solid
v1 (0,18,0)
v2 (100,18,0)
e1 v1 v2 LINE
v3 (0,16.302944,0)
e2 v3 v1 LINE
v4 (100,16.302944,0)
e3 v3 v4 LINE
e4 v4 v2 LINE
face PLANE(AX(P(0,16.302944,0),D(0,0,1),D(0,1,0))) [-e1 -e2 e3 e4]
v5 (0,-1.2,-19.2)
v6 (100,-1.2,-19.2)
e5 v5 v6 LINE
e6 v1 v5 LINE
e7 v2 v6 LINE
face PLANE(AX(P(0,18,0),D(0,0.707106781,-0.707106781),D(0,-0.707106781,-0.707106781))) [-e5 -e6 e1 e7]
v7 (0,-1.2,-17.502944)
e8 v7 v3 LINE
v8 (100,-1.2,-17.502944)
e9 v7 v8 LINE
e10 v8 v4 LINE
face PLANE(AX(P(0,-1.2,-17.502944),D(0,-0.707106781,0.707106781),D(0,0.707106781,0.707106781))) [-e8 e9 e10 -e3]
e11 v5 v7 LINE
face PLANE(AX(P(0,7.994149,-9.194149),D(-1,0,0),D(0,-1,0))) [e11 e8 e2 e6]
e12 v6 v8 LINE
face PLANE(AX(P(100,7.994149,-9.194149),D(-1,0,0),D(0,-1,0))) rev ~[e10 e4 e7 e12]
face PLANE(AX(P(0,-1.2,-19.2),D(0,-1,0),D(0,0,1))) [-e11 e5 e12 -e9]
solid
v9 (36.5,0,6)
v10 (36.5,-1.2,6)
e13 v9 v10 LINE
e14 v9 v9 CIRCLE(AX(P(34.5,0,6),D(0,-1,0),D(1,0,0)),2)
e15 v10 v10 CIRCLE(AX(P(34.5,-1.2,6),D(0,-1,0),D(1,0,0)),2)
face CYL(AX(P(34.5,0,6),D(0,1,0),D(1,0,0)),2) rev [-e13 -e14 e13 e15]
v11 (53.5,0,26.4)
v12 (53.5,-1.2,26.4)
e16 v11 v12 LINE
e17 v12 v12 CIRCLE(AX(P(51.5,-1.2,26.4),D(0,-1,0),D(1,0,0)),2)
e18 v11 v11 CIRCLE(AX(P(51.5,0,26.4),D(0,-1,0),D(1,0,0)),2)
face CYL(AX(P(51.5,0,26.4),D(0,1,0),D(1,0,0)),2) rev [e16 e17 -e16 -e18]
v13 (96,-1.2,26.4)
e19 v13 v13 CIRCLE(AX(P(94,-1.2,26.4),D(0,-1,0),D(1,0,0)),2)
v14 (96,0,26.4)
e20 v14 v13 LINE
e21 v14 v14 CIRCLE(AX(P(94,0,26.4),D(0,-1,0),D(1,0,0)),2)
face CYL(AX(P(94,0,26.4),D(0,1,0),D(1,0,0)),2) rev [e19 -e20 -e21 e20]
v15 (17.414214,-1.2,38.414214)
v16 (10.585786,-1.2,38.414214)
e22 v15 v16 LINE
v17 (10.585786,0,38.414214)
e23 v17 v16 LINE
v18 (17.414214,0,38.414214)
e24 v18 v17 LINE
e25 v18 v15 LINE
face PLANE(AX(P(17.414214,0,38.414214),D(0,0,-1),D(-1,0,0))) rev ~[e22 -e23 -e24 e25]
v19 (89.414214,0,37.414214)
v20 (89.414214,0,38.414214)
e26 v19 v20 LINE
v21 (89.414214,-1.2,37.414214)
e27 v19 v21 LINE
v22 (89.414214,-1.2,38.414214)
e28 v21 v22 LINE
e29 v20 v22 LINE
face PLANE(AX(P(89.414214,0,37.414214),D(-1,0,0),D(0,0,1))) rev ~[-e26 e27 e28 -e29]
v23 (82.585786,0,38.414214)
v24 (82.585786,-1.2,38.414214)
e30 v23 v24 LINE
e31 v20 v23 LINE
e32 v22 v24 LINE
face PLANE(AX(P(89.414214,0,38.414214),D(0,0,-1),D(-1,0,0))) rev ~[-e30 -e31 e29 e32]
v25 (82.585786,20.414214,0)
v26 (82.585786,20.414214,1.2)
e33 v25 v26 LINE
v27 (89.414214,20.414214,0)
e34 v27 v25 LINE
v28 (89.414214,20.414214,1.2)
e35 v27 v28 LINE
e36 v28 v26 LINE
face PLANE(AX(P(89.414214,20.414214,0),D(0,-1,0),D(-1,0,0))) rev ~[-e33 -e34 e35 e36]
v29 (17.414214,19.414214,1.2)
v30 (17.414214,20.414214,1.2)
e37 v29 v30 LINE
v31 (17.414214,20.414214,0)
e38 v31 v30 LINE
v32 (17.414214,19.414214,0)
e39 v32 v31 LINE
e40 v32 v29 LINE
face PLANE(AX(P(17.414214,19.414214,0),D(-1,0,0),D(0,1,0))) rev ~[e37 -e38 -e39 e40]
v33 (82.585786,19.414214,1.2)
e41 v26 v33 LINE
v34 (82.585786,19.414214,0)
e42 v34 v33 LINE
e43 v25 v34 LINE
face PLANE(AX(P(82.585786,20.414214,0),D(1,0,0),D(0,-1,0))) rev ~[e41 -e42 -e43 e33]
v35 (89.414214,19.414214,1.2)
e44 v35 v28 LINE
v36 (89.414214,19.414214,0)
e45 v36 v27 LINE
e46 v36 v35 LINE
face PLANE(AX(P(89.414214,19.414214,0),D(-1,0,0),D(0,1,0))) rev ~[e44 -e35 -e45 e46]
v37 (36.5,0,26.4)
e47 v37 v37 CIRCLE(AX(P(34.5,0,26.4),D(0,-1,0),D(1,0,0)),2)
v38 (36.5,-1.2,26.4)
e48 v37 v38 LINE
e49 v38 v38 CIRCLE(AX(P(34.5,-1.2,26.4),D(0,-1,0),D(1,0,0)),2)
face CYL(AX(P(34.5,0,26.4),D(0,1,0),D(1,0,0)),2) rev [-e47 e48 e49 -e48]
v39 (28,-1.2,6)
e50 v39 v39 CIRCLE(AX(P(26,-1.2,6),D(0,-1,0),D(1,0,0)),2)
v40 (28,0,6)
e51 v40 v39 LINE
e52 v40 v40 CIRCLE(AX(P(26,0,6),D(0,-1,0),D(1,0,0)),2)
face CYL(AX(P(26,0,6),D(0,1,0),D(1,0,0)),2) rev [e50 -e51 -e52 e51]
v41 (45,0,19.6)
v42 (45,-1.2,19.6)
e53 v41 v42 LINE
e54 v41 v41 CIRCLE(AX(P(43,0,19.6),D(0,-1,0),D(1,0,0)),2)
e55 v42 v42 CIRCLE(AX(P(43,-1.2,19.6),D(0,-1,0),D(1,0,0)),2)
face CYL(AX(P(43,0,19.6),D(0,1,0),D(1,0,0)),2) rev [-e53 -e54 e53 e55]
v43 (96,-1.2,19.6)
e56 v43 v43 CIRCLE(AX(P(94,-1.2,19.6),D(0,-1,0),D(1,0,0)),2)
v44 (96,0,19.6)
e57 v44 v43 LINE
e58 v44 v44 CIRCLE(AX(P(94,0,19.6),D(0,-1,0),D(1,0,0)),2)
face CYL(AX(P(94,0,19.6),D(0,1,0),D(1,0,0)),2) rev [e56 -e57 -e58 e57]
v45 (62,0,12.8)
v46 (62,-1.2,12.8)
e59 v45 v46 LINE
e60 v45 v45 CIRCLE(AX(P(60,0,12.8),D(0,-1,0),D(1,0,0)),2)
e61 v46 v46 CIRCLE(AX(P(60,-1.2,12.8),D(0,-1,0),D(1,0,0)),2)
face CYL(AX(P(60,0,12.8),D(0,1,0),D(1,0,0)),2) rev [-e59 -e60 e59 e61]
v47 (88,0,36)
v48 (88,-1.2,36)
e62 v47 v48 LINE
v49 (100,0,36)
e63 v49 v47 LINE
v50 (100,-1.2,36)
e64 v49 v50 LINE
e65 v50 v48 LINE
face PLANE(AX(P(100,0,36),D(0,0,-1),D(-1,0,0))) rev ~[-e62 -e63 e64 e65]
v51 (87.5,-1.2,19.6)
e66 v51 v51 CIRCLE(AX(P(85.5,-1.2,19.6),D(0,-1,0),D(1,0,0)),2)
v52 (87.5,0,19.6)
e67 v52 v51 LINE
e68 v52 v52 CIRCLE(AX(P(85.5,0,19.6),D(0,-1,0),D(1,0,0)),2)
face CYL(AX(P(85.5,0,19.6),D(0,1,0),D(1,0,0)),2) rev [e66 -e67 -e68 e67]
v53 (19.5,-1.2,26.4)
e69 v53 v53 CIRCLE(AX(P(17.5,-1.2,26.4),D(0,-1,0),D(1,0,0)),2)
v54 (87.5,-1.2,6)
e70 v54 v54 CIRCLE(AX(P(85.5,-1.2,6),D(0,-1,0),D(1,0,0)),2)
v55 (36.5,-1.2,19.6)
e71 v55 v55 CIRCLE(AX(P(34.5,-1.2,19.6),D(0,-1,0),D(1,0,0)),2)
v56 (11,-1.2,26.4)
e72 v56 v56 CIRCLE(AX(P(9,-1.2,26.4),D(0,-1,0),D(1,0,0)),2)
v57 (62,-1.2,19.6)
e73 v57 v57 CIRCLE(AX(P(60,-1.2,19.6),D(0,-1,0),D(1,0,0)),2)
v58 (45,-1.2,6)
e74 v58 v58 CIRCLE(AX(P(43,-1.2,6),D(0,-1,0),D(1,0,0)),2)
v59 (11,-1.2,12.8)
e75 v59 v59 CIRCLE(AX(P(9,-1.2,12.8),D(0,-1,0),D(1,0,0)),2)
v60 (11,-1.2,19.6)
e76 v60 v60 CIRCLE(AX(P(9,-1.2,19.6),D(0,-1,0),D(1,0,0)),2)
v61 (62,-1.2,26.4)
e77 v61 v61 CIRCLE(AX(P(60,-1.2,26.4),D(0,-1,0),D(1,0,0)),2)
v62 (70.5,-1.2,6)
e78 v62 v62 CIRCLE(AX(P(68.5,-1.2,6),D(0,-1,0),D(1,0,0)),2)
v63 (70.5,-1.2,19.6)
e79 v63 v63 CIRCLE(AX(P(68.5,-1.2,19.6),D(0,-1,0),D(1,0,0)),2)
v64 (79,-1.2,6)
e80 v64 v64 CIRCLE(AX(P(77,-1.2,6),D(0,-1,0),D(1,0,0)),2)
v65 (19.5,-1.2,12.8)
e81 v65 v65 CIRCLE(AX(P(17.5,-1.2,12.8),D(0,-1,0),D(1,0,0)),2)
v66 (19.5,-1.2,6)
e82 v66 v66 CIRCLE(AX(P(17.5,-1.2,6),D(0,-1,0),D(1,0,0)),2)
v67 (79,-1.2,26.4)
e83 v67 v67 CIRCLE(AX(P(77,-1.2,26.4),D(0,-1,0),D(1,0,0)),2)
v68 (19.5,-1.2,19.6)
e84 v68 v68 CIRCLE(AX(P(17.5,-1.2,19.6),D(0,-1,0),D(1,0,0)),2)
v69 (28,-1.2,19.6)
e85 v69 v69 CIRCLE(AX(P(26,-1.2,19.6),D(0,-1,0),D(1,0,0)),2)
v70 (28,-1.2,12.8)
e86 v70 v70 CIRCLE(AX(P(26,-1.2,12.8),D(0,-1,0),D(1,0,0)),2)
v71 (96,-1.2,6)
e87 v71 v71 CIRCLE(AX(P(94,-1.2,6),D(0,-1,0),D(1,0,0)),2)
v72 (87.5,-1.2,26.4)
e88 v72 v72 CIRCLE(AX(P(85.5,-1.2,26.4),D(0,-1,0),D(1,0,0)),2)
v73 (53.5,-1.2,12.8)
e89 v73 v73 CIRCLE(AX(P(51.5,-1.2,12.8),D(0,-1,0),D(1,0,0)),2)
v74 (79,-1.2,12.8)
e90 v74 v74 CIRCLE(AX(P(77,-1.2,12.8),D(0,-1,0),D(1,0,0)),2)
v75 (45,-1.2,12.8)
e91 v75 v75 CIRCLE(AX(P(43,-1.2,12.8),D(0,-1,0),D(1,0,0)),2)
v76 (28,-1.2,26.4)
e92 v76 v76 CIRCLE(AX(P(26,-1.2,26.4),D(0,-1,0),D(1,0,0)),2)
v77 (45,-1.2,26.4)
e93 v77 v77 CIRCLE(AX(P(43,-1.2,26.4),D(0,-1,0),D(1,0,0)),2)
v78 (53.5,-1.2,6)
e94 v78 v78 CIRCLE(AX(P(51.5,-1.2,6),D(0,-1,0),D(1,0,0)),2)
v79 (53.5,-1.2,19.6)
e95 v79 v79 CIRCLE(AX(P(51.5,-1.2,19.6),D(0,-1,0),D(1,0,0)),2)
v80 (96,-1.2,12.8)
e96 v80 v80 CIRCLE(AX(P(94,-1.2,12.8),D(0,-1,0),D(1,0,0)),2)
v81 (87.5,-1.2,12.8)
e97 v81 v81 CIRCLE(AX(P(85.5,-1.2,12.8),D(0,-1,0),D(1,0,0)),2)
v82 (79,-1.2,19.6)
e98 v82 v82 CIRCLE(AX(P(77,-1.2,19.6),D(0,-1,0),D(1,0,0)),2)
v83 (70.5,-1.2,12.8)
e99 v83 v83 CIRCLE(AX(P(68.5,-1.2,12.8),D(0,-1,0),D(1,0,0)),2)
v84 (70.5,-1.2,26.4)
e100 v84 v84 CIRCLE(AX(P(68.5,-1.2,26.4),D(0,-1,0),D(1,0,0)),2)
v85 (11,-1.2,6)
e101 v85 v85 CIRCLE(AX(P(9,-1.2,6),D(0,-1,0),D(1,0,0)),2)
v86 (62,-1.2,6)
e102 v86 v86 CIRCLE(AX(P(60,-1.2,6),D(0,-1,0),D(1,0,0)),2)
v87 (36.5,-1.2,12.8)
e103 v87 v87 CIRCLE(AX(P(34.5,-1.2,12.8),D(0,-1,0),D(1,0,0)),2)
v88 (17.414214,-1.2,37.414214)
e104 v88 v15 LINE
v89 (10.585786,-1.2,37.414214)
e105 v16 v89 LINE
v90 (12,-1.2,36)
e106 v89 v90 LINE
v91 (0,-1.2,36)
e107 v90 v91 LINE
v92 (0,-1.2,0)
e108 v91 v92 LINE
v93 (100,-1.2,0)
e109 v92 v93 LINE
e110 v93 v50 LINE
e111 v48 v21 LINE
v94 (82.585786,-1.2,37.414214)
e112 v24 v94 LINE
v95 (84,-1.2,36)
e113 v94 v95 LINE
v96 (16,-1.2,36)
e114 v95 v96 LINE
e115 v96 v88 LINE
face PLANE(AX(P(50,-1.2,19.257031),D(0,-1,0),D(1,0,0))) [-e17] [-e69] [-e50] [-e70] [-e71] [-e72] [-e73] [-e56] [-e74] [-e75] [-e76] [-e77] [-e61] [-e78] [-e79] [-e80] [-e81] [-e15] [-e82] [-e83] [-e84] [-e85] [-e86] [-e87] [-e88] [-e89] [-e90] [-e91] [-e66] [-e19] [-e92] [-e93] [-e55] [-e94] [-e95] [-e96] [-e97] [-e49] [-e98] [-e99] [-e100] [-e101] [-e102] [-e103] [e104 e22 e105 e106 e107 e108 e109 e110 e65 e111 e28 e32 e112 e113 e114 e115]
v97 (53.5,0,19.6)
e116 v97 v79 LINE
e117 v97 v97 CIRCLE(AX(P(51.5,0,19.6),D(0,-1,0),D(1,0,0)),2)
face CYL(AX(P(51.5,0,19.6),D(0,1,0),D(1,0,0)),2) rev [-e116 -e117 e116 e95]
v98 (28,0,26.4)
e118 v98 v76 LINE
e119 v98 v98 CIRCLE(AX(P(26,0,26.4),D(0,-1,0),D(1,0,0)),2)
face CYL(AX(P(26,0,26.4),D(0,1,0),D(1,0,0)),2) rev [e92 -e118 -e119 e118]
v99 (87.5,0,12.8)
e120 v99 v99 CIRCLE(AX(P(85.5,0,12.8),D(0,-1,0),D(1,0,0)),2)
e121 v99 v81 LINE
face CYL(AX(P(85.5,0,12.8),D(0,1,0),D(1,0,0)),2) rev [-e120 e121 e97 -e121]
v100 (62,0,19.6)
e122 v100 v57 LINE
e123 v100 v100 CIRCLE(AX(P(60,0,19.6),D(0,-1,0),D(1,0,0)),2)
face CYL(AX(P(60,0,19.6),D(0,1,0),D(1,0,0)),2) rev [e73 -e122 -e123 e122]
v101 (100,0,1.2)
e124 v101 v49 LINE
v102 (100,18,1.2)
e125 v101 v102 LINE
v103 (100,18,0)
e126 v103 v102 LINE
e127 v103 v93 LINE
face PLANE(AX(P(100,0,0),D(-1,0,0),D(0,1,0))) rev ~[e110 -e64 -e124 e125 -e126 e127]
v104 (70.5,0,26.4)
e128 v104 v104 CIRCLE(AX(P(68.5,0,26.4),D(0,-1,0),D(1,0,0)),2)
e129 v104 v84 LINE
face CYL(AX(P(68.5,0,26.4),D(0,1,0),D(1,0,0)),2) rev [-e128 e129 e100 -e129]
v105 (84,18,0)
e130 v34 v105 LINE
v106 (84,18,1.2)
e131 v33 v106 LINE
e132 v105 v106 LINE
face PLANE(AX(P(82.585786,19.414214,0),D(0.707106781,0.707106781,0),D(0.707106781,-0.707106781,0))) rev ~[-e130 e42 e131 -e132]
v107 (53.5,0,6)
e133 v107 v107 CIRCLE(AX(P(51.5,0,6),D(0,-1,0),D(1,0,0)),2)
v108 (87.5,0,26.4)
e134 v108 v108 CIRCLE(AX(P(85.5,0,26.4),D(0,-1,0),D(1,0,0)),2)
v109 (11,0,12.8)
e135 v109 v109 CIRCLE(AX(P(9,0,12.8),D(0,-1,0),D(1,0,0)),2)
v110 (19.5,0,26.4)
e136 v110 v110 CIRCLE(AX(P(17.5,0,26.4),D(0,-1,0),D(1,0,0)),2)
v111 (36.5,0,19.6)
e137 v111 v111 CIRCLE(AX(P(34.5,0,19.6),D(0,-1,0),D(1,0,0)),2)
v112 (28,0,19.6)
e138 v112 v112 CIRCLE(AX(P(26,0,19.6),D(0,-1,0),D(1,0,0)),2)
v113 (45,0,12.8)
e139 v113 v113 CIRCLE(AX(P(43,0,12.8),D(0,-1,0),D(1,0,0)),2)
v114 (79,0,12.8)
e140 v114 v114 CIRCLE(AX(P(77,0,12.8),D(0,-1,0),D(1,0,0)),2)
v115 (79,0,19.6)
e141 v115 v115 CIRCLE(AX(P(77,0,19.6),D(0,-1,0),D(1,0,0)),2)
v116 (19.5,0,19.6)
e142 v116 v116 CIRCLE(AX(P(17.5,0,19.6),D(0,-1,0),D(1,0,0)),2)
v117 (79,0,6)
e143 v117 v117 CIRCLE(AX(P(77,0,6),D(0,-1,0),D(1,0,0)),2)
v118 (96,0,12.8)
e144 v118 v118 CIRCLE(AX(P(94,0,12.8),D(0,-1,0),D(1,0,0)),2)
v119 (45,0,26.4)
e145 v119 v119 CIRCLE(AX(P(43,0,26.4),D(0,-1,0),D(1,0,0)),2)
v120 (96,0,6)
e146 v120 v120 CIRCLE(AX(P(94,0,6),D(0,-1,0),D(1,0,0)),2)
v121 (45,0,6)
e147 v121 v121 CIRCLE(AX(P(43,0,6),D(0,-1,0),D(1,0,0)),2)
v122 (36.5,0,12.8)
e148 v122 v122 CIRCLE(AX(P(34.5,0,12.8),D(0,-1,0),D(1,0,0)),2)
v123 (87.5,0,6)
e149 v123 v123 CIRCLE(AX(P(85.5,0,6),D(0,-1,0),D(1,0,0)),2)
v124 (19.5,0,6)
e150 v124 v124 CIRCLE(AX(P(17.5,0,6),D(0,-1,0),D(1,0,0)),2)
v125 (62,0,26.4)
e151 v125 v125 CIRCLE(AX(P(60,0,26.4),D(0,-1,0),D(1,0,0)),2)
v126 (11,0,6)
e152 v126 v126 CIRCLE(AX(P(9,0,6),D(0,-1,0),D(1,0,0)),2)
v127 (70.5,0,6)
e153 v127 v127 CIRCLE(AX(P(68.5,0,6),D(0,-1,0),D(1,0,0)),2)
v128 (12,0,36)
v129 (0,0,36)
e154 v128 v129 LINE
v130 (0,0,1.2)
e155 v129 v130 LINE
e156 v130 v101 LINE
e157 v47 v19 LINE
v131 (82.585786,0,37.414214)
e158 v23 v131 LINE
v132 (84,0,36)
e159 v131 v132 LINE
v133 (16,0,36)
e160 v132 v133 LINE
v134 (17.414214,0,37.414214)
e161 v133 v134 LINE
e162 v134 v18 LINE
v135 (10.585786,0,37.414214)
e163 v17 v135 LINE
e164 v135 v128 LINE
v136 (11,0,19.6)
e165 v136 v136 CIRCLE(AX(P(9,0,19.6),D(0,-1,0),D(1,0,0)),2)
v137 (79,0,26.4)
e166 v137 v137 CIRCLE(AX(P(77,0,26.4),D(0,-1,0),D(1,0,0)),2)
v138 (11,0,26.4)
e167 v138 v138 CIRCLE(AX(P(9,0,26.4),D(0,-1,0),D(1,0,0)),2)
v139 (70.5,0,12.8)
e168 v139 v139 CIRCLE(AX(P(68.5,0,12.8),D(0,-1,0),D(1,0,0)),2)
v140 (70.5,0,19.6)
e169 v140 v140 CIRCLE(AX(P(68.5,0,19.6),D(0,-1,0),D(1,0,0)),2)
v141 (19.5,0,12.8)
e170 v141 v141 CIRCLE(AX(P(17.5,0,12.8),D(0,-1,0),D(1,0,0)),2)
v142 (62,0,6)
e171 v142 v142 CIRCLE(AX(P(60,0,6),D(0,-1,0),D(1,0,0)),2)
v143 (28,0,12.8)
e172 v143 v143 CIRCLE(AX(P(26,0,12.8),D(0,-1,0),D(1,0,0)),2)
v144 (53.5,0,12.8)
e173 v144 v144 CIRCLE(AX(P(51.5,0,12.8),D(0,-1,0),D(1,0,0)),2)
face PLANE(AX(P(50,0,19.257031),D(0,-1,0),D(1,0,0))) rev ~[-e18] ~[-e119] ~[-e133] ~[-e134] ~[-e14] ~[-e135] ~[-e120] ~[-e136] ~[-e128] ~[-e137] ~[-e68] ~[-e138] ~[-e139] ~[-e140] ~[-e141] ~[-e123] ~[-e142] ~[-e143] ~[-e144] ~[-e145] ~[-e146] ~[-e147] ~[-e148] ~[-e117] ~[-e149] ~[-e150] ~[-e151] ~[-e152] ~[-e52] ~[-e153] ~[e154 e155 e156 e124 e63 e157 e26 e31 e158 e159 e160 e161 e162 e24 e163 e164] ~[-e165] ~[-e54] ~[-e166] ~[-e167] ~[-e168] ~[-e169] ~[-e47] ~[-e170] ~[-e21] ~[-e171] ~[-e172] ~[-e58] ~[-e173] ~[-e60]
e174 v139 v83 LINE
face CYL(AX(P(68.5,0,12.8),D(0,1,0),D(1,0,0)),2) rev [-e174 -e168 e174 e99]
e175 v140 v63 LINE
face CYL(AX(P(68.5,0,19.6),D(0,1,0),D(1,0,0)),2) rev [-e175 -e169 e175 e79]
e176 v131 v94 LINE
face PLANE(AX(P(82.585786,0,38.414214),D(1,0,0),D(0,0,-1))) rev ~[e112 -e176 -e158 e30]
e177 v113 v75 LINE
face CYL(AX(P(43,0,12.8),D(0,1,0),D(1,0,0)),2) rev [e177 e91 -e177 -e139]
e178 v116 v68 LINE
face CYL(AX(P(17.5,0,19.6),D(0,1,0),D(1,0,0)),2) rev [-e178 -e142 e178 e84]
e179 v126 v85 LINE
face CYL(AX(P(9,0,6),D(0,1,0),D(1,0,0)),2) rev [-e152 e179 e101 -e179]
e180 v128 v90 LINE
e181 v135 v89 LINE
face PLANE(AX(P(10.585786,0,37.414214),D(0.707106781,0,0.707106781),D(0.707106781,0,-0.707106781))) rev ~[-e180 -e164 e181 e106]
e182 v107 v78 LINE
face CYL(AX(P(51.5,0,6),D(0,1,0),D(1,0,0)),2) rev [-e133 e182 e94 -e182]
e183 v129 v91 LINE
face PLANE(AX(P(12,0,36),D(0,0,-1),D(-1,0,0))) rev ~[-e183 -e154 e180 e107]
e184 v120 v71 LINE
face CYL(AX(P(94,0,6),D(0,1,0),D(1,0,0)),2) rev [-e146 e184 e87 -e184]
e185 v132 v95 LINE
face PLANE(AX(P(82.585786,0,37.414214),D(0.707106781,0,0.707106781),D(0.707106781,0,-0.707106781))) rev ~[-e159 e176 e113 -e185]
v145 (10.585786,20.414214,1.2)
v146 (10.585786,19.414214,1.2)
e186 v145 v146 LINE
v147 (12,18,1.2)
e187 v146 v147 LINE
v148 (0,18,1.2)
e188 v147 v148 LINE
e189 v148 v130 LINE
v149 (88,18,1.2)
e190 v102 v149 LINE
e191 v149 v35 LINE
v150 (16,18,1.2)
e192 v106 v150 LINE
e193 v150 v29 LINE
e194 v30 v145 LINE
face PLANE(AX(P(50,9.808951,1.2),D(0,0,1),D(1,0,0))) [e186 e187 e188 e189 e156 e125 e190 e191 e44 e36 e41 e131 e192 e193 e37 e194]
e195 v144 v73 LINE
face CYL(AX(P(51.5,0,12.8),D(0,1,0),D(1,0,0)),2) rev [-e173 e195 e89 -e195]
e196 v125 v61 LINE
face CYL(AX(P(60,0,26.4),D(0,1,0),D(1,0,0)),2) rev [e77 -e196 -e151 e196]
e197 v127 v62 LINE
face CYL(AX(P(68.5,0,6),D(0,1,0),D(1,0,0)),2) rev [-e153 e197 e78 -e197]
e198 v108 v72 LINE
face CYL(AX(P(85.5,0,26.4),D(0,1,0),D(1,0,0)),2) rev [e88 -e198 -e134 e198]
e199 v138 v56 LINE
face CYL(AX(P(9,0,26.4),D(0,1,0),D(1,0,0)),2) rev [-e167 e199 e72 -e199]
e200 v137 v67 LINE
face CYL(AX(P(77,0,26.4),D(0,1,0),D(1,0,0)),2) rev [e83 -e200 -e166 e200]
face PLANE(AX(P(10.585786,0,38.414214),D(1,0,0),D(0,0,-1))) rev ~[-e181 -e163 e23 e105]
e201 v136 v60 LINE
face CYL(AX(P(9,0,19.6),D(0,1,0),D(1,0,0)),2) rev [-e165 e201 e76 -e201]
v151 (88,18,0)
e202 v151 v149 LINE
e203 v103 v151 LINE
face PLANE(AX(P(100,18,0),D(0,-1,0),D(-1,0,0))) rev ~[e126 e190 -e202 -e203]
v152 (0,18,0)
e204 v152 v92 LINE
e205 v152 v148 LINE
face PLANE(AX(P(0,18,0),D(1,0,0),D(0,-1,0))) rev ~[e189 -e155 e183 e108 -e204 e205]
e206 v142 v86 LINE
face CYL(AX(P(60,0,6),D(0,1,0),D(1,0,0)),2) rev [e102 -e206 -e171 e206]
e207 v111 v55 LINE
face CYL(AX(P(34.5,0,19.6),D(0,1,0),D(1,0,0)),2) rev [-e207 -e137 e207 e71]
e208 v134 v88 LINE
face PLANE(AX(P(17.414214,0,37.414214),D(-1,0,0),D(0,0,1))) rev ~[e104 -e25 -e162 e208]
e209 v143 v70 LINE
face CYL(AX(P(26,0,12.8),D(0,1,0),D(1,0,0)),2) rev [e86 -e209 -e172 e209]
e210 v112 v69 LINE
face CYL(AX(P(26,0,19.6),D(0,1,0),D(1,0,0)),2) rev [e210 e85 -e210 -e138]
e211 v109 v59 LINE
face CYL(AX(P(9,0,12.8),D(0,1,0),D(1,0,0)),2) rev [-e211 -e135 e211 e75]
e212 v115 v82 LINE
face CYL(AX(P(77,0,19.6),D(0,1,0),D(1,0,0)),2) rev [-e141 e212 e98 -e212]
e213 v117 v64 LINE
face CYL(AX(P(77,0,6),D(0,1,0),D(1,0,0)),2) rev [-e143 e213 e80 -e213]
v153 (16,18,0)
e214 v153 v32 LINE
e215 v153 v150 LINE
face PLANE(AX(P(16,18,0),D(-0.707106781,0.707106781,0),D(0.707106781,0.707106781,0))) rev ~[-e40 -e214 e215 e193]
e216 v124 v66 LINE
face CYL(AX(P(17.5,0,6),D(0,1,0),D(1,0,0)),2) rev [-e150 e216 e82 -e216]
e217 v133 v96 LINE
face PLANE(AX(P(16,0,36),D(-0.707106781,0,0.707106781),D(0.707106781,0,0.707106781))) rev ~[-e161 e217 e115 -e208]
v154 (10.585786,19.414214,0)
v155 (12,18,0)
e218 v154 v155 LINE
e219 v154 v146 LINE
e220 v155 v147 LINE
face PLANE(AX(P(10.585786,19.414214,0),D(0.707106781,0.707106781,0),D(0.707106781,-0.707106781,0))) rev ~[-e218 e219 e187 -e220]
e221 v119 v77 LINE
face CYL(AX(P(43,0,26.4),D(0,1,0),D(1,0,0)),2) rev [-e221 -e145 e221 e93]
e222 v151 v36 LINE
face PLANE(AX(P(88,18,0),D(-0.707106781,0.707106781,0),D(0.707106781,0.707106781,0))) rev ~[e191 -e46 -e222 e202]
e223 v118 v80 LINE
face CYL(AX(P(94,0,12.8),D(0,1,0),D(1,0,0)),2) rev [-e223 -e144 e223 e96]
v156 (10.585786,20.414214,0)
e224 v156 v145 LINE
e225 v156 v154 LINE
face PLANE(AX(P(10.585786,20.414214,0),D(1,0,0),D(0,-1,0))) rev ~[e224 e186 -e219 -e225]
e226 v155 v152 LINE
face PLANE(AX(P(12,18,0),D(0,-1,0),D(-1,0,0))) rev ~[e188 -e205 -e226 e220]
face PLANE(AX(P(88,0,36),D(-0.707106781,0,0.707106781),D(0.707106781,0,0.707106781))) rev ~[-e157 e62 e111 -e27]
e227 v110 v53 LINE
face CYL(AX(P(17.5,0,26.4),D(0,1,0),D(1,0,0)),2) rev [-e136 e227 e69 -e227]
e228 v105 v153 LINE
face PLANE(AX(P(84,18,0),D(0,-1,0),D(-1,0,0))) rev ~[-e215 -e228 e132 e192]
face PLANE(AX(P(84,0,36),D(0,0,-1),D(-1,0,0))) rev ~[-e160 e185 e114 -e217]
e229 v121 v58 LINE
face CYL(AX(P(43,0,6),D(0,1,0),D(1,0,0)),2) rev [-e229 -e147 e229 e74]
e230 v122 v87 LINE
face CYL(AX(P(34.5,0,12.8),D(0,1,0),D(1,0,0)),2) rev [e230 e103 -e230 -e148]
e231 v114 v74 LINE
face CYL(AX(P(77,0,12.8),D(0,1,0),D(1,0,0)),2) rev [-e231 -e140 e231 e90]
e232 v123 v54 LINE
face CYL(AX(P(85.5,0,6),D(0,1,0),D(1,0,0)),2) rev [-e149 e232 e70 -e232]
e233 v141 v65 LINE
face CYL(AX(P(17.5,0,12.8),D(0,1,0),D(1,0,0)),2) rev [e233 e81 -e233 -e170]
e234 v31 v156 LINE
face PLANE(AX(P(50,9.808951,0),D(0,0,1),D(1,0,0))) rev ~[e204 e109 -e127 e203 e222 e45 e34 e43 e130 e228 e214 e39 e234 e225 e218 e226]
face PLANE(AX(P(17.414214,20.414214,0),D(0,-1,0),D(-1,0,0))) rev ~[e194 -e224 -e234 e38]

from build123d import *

# Parameters (mm, degrees)
F0_R     = 2
F1_DEPTH = 1.2
F3_DEPTH = 1.2
F5_DEPTH = 100


with BuildPart() as f1:
    # F0 (on Front) → F1 (new body)
    with BuildSketch(Plane.XZ):
        Polygon((0, 36), (0, 0), (100, 0), (100, 36), (88, 36), (89.414214, 37.414214), (89.414214, 38.414214), (82.585786, 38.414214), (82.585786, 37.414214), (84, 36), (16, 36), (17.414214, 37.414214), (17.414214, 38.414214), (10.585786, 38.414214), (10.585786, 37.414214), (12, 36), align=None)
        with Locations((9, 6)):
            Circle(F0_R, mode=Mode.SUBTRACT)
        with Locations((17.5, 6)):
            Circle(F0_R, mode=Mode.SUBTRACT)
        with Locations((26, 6)):
            Circle(F0_R, mode=Mode.SUBTRACT)
        with Locations((34.5, 6)):
            Circle(F0_R, mode=Mode.SUBTRACT)
        with Locations((43, 6)):
            Circle(F0_R, mode=Mode.SUBTRACT)
        with Locations((9, 12.8)):
            Circle(F0_R, mode=Mode.SUBTRACT)
        with Locations((17.5, 12.8)):
            Circle(F0_R, mode=Mode.SUBTRACT)
        with Locations((26, 12.8)):
            Circle(F0_R, mode=Mode.SUBTRACT)
        with Locations((34.5, 12.8)):
            Circle(F0_R, mode=Mode.SUBTRACT)
        with Locations((43, 12.8)):
            Circle(F0_R, mode=Mode.SUBTRACT)
        with Locations((51.5, 6)):
            Circle(F0_R, mode=Mode.SUBTRACT)
        with Locations((60, 6)):
            Circle(F0_R, mode=Mode.SUBTRACT)
        with Locations((68.5, 6)):
            Circle(F0_R, mode=Mode.SUBTRACT)
        with Locations((77, 6)):
            Circle(F0_R, mode=Mode.SUBTRACT)
        with Locations((85.5, 6)):
            Circle(F0_R, mode=Mode.SUBTRACT)
        with Locations((94, 6)):
            Circle(F0_R, mode=Mode.SUBTRACT)
        with Locations((51.5, 12.8)):
            Circle(F0_R, mode=Mode.SUBTRACT)
        with Locations((60, 12.8)):
            Circle(F0_R, mode=Mode.SUBTRACT)
        with Locations((68.5, 12.8)):
            Circle(F0_R, mode=Mode.SUBTRACT)
        with Locations((77, 12.8)):
            Circle(F0_R, mode=Mode.SUBTRACT)
        with Locations((85.5, 12.8)):
            Circle(F0_R, mode=Mode.SUBTRACT)
        with Locations((94, 12.8)):
            Circle(F0_R, mode=Mode.SUBTRACT)
        with Locations((9, 19.6)):
            Circle(F0_R, mode=Mode.SUBTRACT)
        with Locations((17.5, 19.6)):
            Circle(F0_R, mode=Mode.SUBTRACT)
        with Locations((9, 26.4)):
            Circle(F0_R, mode=Mode.SUBTRACT)
        with Locations((17.5, 26.4)):
            Circle(F0_R, mode=Mode.SUBTRACT)
        with Locations((26, 19.6)):
            Circle(F0_R, mode=Mode.SUBTRACT)
        with Locations((34.5, 19.6)):
            Circle(F0_R, mode=Mode.SUBTRACT)
        with Locations((43, 19.6)):
            Circle(F0_R, mode=Mode.SUBTRACT)
        with Locations((26, 26.4)):
            Circle(F0_R, mode=Mode.SUBTRACT)
        with Locations((34.5, 26.4)):
            Circle(F0_R, mode=Mode.SUBTRACT)
        with Locations((43, 26.4)):
            Circle(F0_R, mode=Mode.SUBTRACT)
        with Locations((51.5, 19.6)):
            Circle(F0_R, mode=Mode.SUBTRACT)
        with Locations((60, 19.6)):
            Circle(F0_R, mode=Mode.SUBTRACT)
        with Locations((68.5, 19.6)):
            Circle(F0_R, mode=Mode.SUBTRACT)
        with Locations((51.5, 26.4)):
            Circle(F0_R, mode=Mode.SUBTRACT)
        with Locations((60, 26.4)):
            Circle(F0_R, mode=Mode.SUBTRACT)
        with Locations((68.5, 26.4)):
            Circle(F0_R, mode=Mode.SUBTRACT)
        with Locations((77, 19.6)):
            Circle(F0_R, mode=Mode.SUBTRACT)
        with Locations((85.5, 19.6)):
            Circle(F0_R, mode=Mode.SUBTRACT)
        with Locations((94, 19.6)):
            Circle(F0_R, mode=Mode.SUBTRACT)
        with Locations((77, 26.4)):
            Circle(F0_R, mode=Mode.SUBTRACT)
        with Locations((85.5, 26.4)):
            Circle(F0_R, mode=Mode.SUBTRACT)
        with Locations((94, 26.4)):
            Circle(F0_R, mode=Mode.SUBTRACT)
    extrude(amount=F1_DEPTH)

    # F2 (on Top) → F3 (join)
    with BuildSketch(Plane.XY):
        Polygon((0, 18), (0, 0), (100, 0), (100, 18), (88, 18), (89.414214, 19.414214), (89.414214, 20.414214), (82.585786, 20.414214), (82.585786, 19.414214), (84, 18), (16, 18), (17.414214, 19.414214), (17.414214, 20.414214), (10.585786, 20.414214), (10.585786, 19.414214), (12, 18), align=None)
    extrude(amount=F3_DEPTH)


with BuildPart() as f5:
    # F4 (on face) → F5 (new body)
    with BuildSketch(Plane(origin=(0, 0, 0), x_dir=(0, -1, 0), z_dir=(-1, 0, 0))):
        Polygon((1.2, -19.2), (1.2, -17.502944), (-16.302944, 0), (-18, 0), align=None)
    extrude(amount=-F5_DEPTH)


solid = Compound([f1.part, f5.part])
